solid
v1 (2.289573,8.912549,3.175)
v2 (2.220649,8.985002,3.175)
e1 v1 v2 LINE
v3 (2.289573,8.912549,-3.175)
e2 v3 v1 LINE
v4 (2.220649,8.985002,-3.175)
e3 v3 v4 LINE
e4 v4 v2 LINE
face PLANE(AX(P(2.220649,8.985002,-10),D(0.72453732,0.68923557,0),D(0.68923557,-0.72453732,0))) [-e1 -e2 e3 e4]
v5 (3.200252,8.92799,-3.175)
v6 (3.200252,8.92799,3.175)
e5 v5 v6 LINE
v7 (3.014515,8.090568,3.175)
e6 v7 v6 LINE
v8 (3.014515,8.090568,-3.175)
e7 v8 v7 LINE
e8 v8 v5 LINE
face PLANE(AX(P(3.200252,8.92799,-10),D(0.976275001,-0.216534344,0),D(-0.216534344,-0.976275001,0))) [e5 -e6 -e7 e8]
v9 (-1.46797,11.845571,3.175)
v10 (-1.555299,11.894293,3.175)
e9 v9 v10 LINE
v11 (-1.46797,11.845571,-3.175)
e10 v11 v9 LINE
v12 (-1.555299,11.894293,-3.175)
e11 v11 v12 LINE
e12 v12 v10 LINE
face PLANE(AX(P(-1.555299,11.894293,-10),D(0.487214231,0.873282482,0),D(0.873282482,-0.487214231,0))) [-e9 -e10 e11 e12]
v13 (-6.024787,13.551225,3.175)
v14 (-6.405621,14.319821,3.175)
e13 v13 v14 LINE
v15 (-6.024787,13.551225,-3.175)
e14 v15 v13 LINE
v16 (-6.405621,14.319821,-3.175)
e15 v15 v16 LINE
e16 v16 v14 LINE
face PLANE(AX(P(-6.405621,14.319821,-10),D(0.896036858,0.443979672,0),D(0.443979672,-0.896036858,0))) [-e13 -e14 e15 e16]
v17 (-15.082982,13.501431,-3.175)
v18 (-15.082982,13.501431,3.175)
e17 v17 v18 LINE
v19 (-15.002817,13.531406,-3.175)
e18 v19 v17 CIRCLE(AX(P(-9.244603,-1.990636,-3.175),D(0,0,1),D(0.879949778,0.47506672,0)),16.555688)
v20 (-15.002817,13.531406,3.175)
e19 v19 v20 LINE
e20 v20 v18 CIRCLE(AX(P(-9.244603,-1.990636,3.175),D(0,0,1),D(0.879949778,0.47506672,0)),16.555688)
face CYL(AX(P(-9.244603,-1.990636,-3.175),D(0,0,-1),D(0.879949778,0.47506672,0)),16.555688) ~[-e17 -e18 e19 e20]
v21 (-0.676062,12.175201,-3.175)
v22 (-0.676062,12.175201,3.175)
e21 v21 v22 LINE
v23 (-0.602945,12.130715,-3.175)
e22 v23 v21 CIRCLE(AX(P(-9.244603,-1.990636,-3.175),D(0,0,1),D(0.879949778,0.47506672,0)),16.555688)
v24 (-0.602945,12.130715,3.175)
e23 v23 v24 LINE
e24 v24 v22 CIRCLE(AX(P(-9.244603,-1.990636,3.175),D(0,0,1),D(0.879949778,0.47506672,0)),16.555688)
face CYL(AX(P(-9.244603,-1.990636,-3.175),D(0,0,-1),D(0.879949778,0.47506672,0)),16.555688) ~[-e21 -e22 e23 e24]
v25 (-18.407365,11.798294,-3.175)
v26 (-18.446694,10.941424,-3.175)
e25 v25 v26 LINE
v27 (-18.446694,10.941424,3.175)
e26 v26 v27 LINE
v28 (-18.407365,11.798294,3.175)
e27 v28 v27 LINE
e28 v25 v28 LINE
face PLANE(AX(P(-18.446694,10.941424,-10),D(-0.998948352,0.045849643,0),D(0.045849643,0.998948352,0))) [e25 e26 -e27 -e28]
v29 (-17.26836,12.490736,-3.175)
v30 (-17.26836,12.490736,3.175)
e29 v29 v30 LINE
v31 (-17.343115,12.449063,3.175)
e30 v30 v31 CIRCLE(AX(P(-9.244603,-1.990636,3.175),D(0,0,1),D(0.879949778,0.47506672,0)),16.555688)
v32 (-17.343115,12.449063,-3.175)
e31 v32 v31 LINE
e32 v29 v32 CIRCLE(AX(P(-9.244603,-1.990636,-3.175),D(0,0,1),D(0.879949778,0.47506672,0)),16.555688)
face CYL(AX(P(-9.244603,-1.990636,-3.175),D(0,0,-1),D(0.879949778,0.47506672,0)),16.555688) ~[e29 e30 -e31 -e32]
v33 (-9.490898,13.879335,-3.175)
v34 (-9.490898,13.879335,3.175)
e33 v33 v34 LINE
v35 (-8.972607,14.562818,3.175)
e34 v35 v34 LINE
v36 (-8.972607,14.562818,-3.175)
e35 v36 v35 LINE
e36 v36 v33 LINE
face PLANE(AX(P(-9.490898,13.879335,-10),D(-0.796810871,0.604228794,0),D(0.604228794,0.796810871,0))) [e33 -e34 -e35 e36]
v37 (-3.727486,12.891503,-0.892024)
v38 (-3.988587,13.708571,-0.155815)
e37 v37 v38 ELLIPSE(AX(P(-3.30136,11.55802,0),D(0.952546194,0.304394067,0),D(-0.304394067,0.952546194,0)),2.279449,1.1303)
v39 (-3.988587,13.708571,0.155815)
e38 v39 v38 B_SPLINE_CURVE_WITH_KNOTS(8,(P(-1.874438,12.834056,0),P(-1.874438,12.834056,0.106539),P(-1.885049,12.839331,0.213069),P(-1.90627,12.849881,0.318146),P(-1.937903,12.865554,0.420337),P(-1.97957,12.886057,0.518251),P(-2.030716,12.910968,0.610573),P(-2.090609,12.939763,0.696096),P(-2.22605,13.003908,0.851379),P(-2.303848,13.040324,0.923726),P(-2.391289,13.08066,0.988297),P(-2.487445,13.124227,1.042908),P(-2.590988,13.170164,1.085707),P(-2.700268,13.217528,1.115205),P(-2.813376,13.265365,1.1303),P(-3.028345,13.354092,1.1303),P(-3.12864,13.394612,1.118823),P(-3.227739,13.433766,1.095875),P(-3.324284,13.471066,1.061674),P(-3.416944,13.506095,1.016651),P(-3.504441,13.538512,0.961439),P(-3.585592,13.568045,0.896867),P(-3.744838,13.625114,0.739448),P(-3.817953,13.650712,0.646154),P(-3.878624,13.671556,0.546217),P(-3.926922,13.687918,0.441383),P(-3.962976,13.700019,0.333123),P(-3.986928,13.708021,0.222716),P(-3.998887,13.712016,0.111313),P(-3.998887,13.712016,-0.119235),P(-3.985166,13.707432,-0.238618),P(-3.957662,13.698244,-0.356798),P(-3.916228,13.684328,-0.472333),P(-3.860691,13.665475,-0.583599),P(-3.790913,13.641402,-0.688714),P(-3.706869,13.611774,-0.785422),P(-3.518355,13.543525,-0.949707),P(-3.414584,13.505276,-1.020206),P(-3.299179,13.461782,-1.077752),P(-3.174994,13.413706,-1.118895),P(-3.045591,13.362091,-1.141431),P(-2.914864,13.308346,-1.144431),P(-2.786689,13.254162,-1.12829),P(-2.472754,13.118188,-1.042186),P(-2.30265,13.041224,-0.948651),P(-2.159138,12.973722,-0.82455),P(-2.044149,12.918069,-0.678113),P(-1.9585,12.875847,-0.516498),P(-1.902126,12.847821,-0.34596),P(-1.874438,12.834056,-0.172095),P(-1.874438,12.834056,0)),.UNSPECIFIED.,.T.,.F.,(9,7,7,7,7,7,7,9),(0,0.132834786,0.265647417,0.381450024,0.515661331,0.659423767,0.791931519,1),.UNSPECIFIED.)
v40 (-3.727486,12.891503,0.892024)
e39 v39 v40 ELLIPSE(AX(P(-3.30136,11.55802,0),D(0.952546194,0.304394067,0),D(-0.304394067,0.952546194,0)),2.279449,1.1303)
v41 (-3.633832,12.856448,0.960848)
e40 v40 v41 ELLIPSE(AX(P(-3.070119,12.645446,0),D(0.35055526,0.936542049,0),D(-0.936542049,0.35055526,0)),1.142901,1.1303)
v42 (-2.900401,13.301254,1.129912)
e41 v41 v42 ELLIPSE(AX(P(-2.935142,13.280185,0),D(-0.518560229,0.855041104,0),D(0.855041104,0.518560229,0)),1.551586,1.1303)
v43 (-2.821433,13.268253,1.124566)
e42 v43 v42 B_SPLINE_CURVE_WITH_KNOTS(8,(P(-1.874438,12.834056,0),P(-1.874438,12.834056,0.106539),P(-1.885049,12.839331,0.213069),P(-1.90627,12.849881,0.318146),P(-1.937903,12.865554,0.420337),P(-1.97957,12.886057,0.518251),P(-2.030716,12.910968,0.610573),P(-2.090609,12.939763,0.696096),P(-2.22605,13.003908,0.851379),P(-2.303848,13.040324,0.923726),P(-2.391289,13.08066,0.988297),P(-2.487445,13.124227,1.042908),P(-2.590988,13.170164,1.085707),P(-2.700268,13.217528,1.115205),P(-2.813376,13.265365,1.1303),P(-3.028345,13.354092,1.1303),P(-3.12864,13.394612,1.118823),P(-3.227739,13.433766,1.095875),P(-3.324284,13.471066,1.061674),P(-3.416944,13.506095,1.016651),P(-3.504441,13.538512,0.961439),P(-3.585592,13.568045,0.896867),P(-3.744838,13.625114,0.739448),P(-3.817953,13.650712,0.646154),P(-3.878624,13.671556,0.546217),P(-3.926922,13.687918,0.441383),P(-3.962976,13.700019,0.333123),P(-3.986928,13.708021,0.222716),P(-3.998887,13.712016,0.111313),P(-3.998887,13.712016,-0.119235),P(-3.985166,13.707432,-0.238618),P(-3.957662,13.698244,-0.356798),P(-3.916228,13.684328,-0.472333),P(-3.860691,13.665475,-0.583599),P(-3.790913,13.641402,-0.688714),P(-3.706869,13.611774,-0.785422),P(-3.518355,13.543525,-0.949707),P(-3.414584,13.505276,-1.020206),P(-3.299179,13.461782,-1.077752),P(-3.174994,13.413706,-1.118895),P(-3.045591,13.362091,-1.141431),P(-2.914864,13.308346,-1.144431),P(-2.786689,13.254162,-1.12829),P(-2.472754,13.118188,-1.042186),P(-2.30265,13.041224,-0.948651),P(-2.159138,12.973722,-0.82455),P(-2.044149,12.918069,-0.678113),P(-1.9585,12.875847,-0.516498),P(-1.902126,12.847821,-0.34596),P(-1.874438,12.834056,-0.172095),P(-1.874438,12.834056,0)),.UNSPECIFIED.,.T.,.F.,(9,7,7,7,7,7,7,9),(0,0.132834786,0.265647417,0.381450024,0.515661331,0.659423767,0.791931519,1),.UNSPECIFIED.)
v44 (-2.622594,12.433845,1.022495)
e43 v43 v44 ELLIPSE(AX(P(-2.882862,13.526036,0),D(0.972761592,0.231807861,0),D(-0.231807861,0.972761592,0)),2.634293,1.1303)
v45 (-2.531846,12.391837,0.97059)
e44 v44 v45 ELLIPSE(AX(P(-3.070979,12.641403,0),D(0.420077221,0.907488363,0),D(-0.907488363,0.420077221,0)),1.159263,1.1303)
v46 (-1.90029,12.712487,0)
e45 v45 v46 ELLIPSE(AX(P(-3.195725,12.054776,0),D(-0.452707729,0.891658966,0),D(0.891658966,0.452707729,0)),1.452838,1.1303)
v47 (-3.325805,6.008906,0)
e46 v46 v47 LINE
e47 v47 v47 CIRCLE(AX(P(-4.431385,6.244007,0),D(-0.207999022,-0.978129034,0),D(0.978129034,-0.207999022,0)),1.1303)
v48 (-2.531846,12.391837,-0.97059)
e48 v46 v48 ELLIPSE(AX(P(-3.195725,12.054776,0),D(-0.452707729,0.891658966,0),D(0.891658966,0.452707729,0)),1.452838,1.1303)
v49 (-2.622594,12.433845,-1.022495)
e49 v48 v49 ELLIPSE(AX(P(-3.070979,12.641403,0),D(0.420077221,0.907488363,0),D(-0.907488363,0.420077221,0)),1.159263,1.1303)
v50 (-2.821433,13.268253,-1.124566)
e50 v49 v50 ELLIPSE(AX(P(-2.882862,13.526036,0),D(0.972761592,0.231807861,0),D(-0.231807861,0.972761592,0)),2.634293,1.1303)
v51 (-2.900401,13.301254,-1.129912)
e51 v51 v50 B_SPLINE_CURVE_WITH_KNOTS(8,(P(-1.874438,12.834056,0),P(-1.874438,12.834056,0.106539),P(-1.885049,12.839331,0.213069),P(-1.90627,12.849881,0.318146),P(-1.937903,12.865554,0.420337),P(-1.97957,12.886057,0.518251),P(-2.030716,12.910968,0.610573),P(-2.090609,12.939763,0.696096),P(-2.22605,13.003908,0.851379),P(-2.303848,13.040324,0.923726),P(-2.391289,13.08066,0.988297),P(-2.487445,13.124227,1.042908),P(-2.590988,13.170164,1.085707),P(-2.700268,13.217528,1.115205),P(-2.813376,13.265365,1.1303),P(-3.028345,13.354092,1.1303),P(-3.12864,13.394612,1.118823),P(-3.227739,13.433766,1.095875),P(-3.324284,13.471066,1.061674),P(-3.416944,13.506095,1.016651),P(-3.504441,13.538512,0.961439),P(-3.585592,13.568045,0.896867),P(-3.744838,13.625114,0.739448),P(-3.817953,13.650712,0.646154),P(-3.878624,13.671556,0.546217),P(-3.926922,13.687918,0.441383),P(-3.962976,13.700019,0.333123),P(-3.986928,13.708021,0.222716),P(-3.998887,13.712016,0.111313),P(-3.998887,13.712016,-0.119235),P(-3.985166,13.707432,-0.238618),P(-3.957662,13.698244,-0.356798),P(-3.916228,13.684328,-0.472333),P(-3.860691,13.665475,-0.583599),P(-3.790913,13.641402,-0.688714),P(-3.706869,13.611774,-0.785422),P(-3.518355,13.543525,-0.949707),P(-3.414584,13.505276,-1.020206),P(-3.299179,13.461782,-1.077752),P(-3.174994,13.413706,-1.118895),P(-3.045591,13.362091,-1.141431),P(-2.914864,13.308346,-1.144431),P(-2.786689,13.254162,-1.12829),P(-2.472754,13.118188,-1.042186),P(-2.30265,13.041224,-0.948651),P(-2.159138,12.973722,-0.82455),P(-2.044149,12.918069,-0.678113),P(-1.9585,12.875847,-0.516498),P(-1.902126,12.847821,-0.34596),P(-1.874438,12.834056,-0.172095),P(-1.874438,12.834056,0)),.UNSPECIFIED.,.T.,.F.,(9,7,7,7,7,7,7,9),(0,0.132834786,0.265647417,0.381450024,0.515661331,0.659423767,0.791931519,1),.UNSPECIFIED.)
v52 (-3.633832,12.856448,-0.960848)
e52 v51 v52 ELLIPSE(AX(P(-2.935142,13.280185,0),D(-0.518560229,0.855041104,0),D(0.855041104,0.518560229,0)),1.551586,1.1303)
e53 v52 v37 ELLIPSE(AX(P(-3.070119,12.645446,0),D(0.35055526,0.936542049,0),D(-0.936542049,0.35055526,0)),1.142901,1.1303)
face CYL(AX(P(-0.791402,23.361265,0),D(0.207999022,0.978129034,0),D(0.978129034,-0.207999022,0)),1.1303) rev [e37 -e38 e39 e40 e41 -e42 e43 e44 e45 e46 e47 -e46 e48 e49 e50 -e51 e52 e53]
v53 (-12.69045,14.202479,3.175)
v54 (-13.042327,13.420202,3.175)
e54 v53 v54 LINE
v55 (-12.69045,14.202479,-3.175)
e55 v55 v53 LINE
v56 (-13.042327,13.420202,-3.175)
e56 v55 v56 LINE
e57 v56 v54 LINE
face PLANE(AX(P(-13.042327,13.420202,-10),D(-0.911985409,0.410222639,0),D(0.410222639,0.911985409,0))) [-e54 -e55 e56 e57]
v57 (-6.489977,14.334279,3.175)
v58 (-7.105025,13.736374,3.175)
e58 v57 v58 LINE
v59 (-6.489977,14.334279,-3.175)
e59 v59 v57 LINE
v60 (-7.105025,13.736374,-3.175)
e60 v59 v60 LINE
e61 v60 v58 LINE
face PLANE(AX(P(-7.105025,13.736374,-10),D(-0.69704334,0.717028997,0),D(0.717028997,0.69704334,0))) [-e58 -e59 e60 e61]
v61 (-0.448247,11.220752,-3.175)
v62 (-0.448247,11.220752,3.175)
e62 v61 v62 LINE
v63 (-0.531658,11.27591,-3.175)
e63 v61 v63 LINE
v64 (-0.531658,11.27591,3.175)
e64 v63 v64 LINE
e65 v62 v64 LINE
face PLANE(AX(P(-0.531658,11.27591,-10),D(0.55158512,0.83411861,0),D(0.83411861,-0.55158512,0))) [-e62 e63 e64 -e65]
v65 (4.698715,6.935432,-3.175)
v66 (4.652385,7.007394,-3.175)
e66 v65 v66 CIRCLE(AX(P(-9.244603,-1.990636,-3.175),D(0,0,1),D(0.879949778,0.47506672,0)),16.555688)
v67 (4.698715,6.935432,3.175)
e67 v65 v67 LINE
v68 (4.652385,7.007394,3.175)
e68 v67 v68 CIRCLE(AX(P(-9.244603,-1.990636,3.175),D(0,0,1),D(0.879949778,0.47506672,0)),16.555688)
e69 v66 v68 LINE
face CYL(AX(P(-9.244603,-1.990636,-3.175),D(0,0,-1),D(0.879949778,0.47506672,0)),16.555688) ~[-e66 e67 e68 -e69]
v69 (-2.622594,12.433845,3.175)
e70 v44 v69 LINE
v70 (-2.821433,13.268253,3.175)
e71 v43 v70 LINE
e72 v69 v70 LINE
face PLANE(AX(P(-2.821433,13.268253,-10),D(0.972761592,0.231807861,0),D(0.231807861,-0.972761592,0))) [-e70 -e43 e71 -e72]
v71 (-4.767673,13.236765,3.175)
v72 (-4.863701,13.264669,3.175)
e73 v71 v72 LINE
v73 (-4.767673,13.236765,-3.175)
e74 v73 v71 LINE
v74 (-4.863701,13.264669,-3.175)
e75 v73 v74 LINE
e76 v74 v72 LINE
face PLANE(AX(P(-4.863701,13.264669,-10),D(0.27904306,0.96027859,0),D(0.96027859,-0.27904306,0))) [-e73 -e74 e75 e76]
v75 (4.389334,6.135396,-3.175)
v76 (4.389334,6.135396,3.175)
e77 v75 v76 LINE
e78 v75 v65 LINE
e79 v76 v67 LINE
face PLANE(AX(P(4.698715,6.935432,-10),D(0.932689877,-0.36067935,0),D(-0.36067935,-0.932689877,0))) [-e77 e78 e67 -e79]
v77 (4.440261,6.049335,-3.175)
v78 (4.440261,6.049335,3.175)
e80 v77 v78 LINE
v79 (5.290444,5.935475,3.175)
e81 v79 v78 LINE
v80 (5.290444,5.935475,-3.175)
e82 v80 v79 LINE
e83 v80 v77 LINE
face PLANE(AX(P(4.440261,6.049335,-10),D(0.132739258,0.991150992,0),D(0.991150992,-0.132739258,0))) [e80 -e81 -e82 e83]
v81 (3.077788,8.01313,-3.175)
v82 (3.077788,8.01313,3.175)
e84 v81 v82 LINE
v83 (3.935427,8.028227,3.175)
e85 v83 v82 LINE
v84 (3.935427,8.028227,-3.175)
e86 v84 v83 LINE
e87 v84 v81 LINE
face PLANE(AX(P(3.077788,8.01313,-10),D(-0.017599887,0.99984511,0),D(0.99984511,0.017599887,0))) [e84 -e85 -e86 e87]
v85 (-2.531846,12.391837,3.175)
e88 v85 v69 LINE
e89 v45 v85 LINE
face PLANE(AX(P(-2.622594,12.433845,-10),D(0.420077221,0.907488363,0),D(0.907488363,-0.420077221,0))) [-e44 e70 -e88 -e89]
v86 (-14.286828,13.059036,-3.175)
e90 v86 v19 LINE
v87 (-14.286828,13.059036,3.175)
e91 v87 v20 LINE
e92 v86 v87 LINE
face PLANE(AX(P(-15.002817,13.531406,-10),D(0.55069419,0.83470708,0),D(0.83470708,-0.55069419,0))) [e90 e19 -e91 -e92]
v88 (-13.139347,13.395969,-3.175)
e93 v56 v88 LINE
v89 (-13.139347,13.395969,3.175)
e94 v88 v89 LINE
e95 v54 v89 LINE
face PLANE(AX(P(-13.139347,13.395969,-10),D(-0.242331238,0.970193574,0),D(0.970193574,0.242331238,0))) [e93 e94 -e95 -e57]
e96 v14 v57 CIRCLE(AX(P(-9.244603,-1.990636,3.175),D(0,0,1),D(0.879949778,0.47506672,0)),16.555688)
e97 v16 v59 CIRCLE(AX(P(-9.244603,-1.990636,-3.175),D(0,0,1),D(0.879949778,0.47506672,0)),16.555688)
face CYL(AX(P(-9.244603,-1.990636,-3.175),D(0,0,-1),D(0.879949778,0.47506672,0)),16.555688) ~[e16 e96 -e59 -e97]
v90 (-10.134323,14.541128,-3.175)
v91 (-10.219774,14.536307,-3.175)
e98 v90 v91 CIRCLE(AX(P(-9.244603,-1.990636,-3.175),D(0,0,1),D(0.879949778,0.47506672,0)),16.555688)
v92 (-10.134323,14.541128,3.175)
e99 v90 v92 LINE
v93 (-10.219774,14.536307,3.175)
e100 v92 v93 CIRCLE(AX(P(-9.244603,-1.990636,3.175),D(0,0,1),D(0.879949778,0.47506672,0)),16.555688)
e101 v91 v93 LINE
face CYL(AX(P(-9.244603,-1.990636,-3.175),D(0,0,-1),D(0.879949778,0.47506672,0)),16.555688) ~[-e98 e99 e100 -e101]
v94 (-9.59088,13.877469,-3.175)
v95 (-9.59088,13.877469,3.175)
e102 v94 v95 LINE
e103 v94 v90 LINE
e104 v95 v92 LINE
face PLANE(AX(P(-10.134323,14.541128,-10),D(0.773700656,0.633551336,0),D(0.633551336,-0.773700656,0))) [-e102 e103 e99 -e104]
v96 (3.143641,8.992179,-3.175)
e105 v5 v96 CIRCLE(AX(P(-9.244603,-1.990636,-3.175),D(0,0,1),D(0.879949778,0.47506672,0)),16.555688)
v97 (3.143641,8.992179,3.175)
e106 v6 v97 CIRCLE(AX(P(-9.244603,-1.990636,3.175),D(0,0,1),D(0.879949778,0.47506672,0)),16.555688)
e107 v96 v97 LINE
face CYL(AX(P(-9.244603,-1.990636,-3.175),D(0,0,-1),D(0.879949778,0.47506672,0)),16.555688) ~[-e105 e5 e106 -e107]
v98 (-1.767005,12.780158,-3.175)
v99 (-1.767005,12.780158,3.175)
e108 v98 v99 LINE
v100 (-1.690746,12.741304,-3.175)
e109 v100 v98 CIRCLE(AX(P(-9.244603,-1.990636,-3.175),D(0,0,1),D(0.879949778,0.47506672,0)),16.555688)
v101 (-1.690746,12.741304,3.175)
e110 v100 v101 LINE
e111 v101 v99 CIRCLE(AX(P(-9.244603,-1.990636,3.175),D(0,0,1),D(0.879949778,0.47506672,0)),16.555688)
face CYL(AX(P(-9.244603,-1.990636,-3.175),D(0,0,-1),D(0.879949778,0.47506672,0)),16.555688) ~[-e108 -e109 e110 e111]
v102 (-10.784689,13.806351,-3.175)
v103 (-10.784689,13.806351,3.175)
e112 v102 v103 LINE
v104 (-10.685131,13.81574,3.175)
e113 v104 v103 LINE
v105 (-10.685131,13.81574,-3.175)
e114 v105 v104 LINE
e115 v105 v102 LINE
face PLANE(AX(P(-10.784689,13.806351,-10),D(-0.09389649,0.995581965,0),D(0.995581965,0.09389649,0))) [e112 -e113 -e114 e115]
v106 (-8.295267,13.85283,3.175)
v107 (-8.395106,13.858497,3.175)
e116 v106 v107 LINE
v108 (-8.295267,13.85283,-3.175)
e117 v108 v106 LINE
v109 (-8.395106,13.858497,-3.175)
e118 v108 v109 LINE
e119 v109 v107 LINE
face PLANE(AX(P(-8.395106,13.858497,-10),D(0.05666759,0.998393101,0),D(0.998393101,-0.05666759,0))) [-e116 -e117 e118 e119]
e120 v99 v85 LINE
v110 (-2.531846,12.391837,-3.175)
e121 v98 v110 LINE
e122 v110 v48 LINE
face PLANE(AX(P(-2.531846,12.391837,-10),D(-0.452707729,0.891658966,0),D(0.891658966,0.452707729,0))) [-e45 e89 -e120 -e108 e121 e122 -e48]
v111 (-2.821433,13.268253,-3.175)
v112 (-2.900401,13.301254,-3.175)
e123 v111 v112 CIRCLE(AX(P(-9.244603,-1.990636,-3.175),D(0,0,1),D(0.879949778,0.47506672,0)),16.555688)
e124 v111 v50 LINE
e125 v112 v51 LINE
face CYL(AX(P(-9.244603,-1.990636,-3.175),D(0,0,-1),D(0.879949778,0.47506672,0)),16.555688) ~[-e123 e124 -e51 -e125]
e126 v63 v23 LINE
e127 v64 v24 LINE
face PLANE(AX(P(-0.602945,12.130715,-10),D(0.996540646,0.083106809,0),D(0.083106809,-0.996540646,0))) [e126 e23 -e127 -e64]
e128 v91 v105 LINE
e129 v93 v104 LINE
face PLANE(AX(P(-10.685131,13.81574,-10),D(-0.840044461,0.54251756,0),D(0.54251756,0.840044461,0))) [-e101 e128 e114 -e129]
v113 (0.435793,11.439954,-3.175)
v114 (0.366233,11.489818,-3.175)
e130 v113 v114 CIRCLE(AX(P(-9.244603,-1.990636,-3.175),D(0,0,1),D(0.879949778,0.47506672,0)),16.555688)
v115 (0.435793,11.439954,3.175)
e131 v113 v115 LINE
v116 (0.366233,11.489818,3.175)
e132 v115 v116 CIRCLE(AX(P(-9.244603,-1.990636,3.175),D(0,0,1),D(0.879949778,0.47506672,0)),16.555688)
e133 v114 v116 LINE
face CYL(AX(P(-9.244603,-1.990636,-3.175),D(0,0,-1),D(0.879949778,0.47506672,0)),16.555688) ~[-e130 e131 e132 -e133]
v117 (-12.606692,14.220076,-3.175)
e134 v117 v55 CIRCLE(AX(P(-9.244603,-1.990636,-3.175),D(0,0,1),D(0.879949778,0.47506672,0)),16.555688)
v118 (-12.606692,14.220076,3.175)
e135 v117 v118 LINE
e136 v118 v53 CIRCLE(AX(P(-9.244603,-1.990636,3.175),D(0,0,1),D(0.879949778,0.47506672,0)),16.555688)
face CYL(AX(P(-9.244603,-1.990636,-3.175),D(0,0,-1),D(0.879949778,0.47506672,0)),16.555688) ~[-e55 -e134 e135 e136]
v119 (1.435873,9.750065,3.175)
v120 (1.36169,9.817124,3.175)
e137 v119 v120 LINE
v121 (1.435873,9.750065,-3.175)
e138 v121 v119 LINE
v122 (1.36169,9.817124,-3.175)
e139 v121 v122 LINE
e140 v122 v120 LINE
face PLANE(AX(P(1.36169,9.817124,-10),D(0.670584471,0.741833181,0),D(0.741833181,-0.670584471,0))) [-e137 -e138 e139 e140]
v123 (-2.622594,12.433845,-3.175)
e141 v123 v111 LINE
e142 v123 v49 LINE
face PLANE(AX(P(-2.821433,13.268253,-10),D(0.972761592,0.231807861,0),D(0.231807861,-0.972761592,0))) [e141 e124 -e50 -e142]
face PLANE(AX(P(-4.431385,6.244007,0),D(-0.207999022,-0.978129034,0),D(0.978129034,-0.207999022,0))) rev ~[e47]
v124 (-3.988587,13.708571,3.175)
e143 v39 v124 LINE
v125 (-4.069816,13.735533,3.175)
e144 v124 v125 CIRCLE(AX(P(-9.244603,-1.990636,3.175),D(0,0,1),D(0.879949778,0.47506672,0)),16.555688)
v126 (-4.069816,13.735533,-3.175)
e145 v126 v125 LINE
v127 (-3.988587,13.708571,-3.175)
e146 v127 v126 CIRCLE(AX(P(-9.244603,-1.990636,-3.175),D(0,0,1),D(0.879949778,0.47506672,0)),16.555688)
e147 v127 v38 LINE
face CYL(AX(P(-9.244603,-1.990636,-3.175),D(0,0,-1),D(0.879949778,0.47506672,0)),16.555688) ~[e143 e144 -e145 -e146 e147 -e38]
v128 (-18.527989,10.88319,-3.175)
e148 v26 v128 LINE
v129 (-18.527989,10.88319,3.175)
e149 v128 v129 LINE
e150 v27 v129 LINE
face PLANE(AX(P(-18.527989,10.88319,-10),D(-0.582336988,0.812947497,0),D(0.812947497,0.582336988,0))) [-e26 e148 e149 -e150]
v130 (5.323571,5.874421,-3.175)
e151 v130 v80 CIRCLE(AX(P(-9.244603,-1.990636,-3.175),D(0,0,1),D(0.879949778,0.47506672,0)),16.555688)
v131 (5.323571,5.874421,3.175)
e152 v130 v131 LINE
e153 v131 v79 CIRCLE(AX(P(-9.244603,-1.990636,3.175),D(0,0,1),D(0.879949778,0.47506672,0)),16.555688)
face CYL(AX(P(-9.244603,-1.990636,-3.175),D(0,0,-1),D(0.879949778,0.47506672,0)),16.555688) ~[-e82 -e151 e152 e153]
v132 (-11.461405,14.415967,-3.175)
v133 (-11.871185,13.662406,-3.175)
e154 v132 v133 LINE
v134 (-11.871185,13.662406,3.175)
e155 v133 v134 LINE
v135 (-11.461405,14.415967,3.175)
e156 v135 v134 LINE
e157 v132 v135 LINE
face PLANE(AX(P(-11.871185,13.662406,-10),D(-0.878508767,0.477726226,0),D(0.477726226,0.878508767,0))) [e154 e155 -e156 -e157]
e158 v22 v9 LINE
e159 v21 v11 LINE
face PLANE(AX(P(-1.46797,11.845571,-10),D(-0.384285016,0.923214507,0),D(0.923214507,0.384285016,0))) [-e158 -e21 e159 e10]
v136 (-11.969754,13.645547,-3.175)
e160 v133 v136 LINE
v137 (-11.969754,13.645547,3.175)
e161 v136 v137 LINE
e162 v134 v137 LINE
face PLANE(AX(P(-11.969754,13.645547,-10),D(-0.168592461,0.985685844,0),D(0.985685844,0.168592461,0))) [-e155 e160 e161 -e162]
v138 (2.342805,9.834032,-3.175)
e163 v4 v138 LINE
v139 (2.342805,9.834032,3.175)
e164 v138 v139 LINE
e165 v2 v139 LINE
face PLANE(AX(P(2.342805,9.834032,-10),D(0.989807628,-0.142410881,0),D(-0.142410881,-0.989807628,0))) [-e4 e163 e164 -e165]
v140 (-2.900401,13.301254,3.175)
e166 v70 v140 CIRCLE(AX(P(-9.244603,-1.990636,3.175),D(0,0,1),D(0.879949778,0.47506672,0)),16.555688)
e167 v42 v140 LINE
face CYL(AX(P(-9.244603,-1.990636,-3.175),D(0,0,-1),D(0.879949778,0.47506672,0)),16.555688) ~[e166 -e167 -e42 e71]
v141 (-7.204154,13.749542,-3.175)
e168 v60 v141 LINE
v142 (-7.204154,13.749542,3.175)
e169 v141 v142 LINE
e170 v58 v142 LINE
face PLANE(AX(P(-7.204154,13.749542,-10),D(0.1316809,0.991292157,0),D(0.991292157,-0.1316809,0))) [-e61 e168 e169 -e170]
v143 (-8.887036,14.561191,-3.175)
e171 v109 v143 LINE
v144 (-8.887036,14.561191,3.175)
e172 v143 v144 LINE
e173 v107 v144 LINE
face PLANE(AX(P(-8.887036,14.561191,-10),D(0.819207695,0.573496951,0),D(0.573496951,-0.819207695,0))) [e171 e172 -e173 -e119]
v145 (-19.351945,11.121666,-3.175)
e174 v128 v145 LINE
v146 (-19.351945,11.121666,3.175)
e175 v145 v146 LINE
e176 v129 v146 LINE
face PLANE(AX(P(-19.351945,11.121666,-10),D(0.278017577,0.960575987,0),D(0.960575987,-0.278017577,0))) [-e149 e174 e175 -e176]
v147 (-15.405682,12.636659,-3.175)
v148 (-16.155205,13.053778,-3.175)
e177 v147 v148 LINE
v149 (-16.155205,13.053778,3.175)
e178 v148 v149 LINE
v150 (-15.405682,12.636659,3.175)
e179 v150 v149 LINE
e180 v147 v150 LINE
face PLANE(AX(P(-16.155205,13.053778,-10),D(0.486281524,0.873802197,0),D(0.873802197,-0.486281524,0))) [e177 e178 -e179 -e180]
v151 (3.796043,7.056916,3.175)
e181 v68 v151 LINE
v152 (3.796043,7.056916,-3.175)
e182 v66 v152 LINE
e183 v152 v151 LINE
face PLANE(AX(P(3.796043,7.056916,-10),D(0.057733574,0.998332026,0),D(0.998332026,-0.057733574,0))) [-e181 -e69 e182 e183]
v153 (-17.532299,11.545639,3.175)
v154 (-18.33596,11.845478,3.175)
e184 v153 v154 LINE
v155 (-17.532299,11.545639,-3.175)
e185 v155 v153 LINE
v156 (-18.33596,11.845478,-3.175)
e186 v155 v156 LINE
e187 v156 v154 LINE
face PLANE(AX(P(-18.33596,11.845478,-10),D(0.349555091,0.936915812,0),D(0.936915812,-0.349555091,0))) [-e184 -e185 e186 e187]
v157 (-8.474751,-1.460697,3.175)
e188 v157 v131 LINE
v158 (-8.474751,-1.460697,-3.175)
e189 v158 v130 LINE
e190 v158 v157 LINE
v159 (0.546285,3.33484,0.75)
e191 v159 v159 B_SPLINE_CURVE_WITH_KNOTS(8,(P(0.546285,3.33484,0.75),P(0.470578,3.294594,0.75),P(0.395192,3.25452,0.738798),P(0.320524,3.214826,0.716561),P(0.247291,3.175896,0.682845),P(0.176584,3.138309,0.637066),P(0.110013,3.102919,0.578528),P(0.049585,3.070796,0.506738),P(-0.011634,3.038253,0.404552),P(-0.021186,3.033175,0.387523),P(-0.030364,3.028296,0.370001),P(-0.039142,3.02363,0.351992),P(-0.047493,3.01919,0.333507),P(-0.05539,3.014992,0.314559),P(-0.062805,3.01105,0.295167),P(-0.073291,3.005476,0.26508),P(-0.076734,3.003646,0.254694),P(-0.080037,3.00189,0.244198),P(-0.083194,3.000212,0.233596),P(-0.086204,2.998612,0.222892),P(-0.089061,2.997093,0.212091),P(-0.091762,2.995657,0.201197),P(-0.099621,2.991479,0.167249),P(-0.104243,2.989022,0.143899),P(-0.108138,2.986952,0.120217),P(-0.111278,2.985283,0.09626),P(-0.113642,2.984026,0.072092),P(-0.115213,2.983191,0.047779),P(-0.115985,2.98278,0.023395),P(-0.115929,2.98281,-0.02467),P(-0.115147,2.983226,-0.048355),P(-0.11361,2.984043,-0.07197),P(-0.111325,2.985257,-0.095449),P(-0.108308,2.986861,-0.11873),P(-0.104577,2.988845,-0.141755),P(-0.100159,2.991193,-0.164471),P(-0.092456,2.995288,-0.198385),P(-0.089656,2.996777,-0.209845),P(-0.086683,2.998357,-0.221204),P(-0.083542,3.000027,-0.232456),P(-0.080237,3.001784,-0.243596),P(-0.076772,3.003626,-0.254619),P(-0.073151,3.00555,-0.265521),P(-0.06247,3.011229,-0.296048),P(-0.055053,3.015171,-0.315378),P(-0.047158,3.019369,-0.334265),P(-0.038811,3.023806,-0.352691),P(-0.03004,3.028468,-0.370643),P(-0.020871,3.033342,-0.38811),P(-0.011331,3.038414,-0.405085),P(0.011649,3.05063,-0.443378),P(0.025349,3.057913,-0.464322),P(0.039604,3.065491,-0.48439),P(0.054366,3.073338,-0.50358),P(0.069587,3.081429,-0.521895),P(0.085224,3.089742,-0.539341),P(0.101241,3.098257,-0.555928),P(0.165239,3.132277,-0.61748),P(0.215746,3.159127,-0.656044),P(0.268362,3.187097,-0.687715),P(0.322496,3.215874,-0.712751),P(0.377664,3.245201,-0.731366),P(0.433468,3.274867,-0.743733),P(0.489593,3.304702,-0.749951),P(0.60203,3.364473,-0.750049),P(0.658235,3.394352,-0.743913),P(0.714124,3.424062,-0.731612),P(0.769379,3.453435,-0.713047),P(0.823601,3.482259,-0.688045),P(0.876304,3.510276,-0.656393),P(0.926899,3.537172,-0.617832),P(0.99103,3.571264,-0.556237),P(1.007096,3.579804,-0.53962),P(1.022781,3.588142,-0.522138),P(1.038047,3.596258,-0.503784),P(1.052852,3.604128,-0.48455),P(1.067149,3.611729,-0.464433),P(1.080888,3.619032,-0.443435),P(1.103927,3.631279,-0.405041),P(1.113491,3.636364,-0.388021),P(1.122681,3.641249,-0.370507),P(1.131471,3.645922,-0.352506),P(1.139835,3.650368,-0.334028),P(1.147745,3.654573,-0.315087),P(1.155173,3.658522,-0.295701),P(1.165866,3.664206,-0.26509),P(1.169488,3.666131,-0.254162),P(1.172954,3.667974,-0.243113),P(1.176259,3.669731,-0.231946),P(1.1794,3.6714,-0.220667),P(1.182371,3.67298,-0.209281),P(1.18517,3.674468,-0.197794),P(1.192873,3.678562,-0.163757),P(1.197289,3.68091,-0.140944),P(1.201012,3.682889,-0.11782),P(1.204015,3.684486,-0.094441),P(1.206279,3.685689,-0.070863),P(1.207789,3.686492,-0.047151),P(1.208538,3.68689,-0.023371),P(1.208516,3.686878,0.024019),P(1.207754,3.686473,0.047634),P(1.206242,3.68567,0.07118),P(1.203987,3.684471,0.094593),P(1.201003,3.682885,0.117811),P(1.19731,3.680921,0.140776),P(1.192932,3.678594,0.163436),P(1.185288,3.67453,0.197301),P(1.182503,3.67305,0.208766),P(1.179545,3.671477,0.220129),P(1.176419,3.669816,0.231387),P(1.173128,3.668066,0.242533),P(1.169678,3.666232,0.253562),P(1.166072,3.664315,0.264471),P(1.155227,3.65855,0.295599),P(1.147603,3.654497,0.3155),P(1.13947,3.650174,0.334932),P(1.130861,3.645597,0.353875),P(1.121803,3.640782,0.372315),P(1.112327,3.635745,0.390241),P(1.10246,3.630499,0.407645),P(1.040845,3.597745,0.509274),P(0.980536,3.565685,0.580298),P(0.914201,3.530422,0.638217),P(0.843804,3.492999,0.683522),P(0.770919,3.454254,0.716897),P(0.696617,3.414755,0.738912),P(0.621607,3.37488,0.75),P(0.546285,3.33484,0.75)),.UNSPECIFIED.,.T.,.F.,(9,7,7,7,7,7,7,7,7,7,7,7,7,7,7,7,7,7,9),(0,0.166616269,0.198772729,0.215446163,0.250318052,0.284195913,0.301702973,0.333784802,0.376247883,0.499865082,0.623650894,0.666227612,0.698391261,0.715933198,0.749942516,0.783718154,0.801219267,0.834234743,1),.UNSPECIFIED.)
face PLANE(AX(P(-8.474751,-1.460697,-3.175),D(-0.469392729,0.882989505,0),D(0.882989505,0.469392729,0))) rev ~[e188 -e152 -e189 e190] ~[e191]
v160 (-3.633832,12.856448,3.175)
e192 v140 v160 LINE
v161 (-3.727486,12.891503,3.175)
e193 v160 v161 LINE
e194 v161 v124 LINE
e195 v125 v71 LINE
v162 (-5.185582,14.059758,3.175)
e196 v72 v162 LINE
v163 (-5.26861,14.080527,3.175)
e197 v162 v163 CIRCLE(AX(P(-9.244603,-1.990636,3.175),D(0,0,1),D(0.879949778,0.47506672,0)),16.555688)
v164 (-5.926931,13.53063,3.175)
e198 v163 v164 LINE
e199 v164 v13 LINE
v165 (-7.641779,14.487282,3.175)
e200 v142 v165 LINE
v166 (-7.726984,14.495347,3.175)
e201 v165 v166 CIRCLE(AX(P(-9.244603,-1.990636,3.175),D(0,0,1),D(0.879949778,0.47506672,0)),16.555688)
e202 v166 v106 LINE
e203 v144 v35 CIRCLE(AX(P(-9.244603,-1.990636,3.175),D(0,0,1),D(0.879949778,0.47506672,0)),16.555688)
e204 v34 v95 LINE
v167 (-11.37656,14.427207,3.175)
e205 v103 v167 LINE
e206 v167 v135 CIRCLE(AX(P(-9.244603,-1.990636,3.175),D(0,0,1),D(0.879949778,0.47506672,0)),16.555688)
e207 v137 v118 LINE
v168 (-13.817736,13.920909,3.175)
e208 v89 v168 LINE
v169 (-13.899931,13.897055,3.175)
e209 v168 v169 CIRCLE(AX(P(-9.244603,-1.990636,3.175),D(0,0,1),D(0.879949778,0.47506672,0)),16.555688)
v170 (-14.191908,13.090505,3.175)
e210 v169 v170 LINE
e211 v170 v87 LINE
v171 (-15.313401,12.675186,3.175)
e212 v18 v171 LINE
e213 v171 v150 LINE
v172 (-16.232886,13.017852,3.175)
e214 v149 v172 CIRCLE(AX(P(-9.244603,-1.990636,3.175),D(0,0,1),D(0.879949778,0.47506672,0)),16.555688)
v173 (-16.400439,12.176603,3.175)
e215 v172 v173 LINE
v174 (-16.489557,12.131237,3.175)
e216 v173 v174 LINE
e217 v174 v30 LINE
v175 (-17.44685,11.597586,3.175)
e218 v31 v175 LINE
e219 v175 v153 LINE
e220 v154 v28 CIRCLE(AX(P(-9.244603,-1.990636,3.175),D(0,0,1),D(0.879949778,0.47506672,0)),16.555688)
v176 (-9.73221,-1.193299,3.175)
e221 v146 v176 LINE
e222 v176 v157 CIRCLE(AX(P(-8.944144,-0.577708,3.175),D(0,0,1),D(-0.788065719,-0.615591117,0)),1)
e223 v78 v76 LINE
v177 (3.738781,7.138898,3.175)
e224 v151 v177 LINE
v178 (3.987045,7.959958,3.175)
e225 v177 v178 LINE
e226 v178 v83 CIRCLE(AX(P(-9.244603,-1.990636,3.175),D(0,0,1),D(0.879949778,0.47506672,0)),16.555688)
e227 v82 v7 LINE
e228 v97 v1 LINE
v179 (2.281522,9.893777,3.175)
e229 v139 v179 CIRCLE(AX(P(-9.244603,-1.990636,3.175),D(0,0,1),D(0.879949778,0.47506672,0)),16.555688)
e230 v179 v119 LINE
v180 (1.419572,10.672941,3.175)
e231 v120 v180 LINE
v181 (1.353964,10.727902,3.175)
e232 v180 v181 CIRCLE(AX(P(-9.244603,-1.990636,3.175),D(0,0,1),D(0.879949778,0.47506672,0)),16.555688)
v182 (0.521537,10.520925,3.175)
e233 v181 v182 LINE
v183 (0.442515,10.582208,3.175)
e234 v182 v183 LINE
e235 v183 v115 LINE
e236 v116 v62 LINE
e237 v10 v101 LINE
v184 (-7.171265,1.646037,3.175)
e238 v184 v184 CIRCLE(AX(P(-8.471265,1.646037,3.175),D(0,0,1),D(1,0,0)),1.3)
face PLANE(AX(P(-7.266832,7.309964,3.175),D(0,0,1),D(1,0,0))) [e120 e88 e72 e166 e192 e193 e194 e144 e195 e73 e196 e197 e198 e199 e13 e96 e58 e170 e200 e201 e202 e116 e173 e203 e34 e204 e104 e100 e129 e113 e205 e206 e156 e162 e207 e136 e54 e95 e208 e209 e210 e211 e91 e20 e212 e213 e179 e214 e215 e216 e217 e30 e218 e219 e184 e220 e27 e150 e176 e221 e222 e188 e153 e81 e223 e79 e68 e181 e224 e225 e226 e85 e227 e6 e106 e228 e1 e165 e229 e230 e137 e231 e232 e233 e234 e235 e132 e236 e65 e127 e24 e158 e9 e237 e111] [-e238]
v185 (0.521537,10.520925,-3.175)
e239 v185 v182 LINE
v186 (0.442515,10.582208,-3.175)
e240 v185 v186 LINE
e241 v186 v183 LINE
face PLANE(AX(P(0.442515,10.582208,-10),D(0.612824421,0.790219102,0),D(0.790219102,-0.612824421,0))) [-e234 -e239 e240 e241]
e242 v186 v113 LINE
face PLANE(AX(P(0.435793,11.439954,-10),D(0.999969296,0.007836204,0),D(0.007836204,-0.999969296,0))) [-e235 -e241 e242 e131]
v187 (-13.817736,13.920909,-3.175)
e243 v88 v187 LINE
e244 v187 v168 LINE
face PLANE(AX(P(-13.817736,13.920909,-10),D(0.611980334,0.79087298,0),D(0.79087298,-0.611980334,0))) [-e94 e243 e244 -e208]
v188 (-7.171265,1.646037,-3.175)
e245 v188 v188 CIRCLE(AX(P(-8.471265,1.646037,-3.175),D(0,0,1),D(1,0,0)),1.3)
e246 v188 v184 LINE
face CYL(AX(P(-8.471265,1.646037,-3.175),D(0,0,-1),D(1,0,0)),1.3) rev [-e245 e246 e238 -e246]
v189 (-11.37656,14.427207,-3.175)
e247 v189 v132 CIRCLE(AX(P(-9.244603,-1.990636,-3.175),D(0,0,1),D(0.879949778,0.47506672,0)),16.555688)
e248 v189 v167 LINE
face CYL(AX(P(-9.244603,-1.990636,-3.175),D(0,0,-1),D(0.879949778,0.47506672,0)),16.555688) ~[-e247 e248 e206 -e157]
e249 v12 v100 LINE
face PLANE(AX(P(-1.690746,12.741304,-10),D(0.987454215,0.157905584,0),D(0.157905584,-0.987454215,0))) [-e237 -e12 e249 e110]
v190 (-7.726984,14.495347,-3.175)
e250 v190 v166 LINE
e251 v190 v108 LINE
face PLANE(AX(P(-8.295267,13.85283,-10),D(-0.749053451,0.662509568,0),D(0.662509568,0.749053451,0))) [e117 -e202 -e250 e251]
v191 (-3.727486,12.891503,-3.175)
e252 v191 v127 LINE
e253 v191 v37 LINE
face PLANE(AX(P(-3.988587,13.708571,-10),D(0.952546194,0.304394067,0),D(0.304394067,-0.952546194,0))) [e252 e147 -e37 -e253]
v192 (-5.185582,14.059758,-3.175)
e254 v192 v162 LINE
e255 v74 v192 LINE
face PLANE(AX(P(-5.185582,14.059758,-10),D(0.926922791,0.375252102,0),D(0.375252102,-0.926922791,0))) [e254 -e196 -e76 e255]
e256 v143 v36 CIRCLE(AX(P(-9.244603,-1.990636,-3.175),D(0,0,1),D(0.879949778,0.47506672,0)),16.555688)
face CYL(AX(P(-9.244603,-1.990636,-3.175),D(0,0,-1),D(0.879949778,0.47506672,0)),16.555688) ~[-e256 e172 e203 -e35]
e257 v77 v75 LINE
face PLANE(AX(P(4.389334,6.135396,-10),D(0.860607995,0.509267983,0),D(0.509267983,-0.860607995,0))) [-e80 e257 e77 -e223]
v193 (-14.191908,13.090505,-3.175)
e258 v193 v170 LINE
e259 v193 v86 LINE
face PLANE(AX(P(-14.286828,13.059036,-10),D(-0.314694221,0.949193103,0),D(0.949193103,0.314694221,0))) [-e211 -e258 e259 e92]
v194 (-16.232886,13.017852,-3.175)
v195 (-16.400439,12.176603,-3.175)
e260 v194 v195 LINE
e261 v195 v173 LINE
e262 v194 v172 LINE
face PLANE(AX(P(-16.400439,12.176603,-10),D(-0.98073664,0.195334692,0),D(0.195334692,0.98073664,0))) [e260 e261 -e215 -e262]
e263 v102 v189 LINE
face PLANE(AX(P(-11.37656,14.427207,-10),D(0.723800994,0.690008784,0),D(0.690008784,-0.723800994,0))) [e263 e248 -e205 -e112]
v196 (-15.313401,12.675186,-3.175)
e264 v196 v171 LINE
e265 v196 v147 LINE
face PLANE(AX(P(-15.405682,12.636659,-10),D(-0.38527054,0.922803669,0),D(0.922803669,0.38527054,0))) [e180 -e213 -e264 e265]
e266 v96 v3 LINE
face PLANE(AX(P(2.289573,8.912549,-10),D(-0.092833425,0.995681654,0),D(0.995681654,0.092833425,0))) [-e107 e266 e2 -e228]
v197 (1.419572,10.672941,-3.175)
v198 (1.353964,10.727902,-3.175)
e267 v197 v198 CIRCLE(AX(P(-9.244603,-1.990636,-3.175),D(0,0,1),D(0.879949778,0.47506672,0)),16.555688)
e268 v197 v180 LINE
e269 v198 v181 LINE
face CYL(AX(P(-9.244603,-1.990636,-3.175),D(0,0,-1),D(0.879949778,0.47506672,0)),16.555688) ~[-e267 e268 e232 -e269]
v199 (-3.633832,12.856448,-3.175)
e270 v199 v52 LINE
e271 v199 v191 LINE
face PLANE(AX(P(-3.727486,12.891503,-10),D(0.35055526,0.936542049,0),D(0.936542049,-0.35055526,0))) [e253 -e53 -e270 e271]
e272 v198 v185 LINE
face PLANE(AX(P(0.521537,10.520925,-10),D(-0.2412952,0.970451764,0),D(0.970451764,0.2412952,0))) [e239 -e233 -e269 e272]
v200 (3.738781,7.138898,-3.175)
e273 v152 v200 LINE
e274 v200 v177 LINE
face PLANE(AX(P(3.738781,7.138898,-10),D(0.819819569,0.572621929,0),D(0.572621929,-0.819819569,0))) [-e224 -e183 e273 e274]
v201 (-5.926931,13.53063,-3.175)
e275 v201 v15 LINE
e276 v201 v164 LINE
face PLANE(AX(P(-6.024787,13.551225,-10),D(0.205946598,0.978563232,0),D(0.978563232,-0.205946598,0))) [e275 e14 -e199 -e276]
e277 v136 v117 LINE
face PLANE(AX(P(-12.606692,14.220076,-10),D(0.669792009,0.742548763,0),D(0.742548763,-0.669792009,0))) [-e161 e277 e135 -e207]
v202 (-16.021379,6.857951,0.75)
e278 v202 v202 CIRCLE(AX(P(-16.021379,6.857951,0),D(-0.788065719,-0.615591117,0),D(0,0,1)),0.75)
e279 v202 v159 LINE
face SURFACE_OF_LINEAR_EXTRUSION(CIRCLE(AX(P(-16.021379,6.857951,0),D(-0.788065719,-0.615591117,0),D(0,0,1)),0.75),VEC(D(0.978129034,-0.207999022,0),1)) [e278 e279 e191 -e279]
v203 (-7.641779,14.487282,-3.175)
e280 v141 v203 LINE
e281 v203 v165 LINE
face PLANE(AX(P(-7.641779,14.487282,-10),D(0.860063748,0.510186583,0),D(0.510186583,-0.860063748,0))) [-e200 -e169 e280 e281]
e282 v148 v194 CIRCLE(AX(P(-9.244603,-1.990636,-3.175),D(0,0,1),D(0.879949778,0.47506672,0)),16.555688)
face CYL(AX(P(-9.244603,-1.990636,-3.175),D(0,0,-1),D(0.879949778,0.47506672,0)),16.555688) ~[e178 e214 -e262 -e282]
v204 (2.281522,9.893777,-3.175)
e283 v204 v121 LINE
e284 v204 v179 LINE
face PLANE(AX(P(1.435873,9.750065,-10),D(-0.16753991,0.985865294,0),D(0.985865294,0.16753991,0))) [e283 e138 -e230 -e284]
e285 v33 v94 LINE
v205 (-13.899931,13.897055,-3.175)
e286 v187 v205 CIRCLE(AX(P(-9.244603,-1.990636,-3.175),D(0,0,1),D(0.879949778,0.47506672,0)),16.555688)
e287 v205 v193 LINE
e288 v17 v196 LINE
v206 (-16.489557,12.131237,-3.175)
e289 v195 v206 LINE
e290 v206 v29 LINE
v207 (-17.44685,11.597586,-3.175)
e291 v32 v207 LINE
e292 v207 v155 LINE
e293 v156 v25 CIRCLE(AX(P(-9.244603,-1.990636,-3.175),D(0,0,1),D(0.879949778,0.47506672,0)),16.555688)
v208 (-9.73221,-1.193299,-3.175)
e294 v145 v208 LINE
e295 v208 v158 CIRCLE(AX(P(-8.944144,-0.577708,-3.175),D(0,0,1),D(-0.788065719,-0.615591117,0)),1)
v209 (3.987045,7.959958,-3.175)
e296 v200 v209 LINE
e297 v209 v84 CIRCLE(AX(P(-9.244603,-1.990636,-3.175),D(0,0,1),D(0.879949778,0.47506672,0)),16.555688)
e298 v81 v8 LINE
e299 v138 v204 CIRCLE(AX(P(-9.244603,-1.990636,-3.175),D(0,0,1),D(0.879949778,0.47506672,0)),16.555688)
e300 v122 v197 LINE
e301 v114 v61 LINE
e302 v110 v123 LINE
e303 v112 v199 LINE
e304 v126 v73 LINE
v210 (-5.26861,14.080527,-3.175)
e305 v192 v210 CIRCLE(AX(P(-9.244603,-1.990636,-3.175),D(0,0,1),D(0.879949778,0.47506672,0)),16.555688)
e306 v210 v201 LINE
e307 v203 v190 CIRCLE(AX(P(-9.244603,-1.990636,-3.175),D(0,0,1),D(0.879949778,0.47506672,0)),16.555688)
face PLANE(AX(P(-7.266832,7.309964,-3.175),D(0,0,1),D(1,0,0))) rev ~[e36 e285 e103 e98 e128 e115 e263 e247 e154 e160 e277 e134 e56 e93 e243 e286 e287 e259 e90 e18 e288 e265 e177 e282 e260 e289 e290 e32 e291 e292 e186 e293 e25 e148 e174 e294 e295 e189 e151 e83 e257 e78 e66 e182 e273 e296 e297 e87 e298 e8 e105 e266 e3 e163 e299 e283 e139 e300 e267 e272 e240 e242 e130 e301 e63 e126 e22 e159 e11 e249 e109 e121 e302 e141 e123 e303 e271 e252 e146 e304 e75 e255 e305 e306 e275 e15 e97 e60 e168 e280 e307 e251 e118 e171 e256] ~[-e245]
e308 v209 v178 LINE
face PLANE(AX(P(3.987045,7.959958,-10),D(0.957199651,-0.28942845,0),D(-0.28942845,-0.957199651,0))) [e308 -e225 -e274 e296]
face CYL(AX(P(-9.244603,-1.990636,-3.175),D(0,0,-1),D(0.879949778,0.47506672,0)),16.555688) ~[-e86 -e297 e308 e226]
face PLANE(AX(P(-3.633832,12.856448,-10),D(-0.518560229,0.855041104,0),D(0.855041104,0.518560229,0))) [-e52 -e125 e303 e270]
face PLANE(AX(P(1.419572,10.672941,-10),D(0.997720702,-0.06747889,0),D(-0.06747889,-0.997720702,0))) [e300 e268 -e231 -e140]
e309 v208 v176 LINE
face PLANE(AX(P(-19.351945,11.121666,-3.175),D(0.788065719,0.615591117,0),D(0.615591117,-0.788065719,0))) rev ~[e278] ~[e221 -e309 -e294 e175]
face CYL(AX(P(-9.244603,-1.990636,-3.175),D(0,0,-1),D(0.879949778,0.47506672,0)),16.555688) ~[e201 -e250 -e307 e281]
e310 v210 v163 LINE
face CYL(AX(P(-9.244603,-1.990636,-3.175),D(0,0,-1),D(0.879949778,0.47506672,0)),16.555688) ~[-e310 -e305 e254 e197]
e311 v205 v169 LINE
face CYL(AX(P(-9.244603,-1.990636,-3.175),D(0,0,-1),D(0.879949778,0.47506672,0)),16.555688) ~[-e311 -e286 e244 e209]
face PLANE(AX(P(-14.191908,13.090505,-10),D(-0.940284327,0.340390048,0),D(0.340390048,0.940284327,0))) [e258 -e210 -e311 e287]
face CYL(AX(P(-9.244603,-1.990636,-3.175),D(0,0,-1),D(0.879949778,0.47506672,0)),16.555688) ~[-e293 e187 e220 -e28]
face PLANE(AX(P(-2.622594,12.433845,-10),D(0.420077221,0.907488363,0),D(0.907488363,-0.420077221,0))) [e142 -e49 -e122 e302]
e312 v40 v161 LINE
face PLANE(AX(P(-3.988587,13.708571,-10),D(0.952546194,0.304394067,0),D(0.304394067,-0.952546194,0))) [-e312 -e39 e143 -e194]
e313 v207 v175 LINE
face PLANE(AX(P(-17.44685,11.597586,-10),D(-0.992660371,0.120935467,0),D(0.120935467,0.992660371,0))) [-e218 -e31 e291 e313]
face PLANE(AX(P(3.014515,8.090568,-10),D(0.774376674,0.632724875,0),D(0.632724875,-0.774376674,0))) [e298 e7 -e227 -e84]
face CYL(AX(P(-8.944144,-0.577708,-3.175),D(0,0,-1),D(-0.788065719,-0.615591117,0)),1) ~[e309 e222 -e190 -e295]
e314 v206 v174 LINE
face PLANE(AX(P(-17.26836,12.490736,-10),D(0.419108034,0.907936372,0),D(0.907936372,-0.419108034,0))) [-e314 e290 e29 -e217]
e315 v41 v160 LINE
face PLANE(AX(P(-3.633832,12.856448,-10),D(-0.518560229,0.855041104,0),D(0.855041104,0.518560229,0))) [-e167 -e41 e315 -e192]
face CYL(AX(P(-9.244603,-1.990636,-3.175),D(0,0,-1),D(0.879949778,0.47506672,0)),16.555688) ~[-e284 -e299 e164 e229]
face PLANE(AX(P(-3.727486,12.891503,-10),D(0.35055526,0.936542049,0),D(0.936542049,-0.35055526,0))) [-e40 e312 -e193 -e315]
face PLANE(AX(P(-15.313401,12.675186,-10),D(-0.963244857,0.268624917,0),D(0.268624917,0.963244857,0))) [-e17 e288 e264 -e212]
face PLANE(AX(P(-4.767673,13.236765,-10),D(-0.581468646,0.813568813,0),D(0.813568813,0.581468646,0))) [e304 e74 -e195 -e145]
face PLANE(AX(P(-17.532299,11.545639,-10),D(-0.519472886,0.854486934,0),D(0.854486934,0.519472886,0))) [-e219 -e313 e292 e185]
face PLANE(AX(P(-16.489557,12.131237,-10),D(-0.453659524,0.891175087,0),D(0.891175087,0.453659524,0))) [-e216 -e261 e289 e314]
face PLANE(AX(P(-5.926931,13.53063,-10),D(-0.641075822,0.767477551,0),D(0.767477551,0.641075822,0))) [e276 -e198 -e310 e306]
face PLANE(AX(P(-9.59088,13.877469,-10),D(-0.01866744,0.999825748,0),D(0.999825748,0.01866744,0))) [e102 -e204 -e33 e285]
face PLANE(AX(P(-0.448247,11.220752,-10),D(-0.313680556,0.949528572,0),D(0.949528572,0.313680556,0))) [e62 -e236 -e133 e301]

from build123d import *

# Parameters (mm, degrees)
BOSS_EXTRUDE1_DEPTH      = 3.175
BOSS_EXTRUDE1_DEPTH_BACK = 3.175
SKETCH1_R                = 1.3
SKETCH4_R                = 0.75
CUT_EXTRUDE2_DEPTH       = 7.5
CUT_EXTRUDE2_DEPTH_BACK  = 10
SKETCH3_R                = 1.1303
CUT_EXTRUDE3_DEPTH       = 10
CUT_EXTRUDE3_DEPTH_BACK  = 10


with BuildPart() as part:
    # Sketch1 → Boss-Extrude1 (new, two sides: drawn at the far end of the back side and taken through both)
    with BuildSketch(Plane.XY.offset(-BOSS_EXTRUDE1_DEPTH_BACK)):
        with BuildLine():
            Line((-19.351944596, 11.121666082), (-9.732209918, -1.193299023))
            ThreePointArc((-9.732209918, -1.193299023), (-9.152143222, -1.55583694), (-8.474751471, -1.460697412))
            Line((-8.474751471, -1.460697412), (5.323571039, 5.874420633))
            ThreePointArc((5.323571039, 5.874420633), (-5.801036197, 14.202963476), (-19.351944596, 11.121666082))
        make_face()
        with Locations((-8.471265065, 1.646037216)):
            Circle(SKETCH1_R, mode=Mode.SUBTRACT)
    extrude(amount=BOSS_EXTRUDE1_DEPTH + BOSS_EXTRUDE1_DEPTH_BACK)

    # Cut-Sweep1: sweep along a path in Sketch2
    with BuildLine(Plane.XY) as cut_sweep1_path:
        Line((-16.021378593, 6.857951387), (3.426511905, 2.722359798))
    # Sketch4 → Cut-Sweep1 (sweep, cut)
    with BuildSketch(Plane(origin=(-6.623066075, -5.173554115, 0), x_dir=(0, 0, 1), z_dir=(-0.7880657186592105, -0.6155911167927476, 0))):
        with Locations((0, 15.267134729)):
            Circle(SKETCH4_R)
    sweep(path=cut_sweep1_path.line, mode=Mode.SUBTRACT)

    # Sketch3 → Cut-Extrude2 (cut, two sides: drawn at the far end of the back side and taken through both)
    with BuildSketch(Plane(origin=(2.63861758, 12.40827211, 0), x_dir=(0.9781290338253494, -0.2079990220839719, 0), z_dir=(-0.2079990220839719, -0.9781290338253494, 0)).offset(-CUT_EXTRUDE2_DEPTH_BACK)):
        with Locations((-5.633213298, 0)):
            Circle(SKETCH3_R)
    extrude(amount=CUT_EXTRUDE2_DEPTH + CUT_EXTRUDE2_DEPTH_BACK, mode=Mode.SUBTRACT)

    # Sketch5 → Cut-Extrude3 (cut, two sides: drawn at the far end of the back side and taken through both)
    with BuildSketch(Plane.XY.offset(-CUT_EXTRUDE3_DEPTH_BACK)):
        with BuildLine():
            Line((-18.335959881, 11.845477975), (-17.532299102, 11.545639171))
            Line((-17.532299102, 11.545639171), (-17.446850408, 11.59758646))
            Line((-17.446850408, 11.59758646), (-17.343115269, 12.449063399))
            ThreePointArc((-17.343115269, 12.449063399), (-17.844834345, 12.155983405), (-18.335959881, 11.845477975))
        make_face()
        with BuildLine():
            Line((-19.351944596, 11.121666082), (-18.527988766, 10.883190202))
            Line((-18.527988766, 10.883190202), (-18.446694016, 10.941423901))
            Line((-18.446694016, 10.941423901), (-18.407365445, 11.798294498))
            ThreePointArc((-18.407365445, 11.798294498), (-18.88559278, 11.468269454), (-19.351944596, 11.121666082))
        make_face()
        with BuildLine():
            Line((-17.268359717, 12.490736443), (-16.489556709, 12.131237025))
            Line((-16.489556709, 12.131237025), (-16.400439201, 12.176602977))
            Line((-16.400439201, 12.176602977), (-16.23288644, 13.017852066))
            ThreePointArc((-16.23288644, 13.017852066), (-16.755248788, 12.763381061), (-17.268359717, 12.490736443))
        make_face()
        with BuildLine():
            Line((-16.15520532, 13.053778081), (-15.405681675, 12.636659079))
            Line((-15.405681675, 12.636659079), (-15.313401308, 12.675186133))
            Line((-15.313401308, 12.675186133), (-15.082982195, 13.501431247))
            ThreePointArc((-15.082982195, 13.501431247), (-15.623022142, 13.287013969), (-16.15520532, 13.053778081))
        make_face()
        with BuildLine():
            Line((-15.002816533, 13.531406266), (-14.286827611, 13.059035839))
            Line((-14.286827611, 13.059035839), (-14.191908301, 13.090505261))
            Line((-14.191908301, 13.090505261), (-13.89993102, 13.89705546))
            ThreePointArc((-13.89993102, 13.89705546), (-14.454582535, 13.723909246), (-15.002816533, 13.531406266))
        make_face()
        with BuildLine():
            Line((-13.817735952, 13.920909302), (-13.139346723, 13.395969296))
            Line((-13.139346723, 13.395969296), (-13.042327365, 13.42020242))
            Line((-13.042327365, 13.42020242), (-12.690449596, 14.202478581))
            ThreePointArc((-12.690449596, 14.202478581), (-13.256563688, 14.071586455), (-13.817735952, 13.920909302))
        make_face()
        with BuildLine():
            Line((-12.606691776, 14.220075817), (-11.96975374, 13.645546536))
            Line((-11.96975374, 13.645546536), (-11.871185156, 13.662405782))
            Line((-11.871185156, 13.662405782), (-11.461404655, 14.415966594))
            ThreePointArc((-11.461404655, 14.415966594), (-12.035767257, 14.328071685), (-12.606691776, 14.220075817))
        make_face()
        with BuildLine():
            Line((-11.376559612, 14.427207318), (-10.784688934, 13.806350606))
            Line((-10.784688934, 13.806350606), (-10.685130738, 13.815740255))
            Line((-10.685130738, 13.815740255), (-10.219774001, 14.536307437))
            ThreePointArc((-10.219774001, 14.536307437), (-10.799124216, 14.491908762), (-11.376559612, 14.427207318))
        make_face()
        with BuildLine():
            Line((-10.134323437, 14.541127831), (-9.590880415, 13.877468553))
            Line((-9.590880415, 13.877468553), (-9.49089784, 13.879335297))
            Line((-9.49089784, 13.879335297), (-8.972606893, 14.562817887))
            ThreePointArc((-8.972606893, 14.562817887), (-9.553655506, 14.562167515), (-10.134323437, 14.541127831))
        make_face()
        with BuildLine():
            Line((-8.887035946, 14.561190583), (-8.395105934, 13.85849661))
            Line((-8.395105934, 13.85849661), (-8.295266624, 13.852829851))
            Line((-8.295266624, 13.852829851), (-7.726984022, 14.49534743))
            ThreePointArc((-7.726984022, 14.49534743), (-8.306432177, 14.538449054), (-8.887035946, 14.561190583))
        make_face()
        with BuildLine():
            Line((-7.641778514, 14.487281668), (-7.204154406, 13.749542489))
            Line((-7.204154406, 13.749542489), (-7.10502519, 13.736374399))
            Line((-7.10502519, 13.736374399), (-6.489977312, 14.334279127))
            ThreePointArc((-6.489977312, 14.334279127), (-7.064535238, 14.420888041), (-7.641778514, 14.487281668))
        make_face()
        with BuildLine():
            Line((-6.405620991, 14.319820698), (-6.024787362, 13.551224769))
            Line((-6.024787362, 13.551224769), (-5.926931038, 13.530630109))
            Line((-5.926931038, 13.530630109), (-5.268609769, 14.080527429))
            ThreePointArc((-5.268609769, 14.080527429), (-5.835015459, 14.210151917), (-6.405620991, 14.319820698))
        make_face()
        with BuildLine():
            Line((-5.185581561, 14.05975842), (-4.863700563, 13.264669382))
            Line((-4.863700563, 13.264669382), (-4.767672704, 13.236765076))
            Line((-4.767672704, 13.236765076), (-4.06981561, 13.73553299))
            ThreePointArc((-4.06981561, 13.73553299), (-4.624853342, 13.907437121), (-5.185581561, 14.05975842))
        make_face()
        with BuildLine():
            Line((-3.9885869, 13.708571317), (-3.727485988, 12.891503223))
            Line((-3.727485988, 12.891503223), (-3.633831783, 12.856447697))
            Line((-3.633831783, 12.856447697), (-2.900400891, 13.30125449))
            ThreePointArc((-2.900400891, 13.30125449), (-3.440919483, 13.514462291), (-3.9885869, 13.708571317))
        make_face()
        with BuildLine():
            Line((-2.82143285, 13.268253224), (-2.622594402, 12.433844914))
            Line((-2.622594402, 12.433844914), (-2.531845566, 12.391837192))
            Line((-2.531845566, 12.391837192), (-1.767004872, 12.78015751))
            ThreePointArc((-1.767004872, 12.78015751), (-2.289935572, 13.033458511), (-2.82143285, 13.268253224))
        make_face()
        with BuildLine():
            Line((-1.690745835, 12.741304013), (-1.55529874, 11.894292773))
            Line((-1.55529874, 11.894292773), (-1.467970492, 11.84557135))
            Line((-1.467970492, 11.84557135), (-0.676062318, 12.175200535))
            ThreePointArc((-0.676062318, 12.175200535), (-1.178436229, 12.46715664), (-1.690745835, 12.741304013))
        make_face()
        with BuildLine():
            Line((-0.602945237, 12.130715396), (-0.531658487, 11.275910064))
            Line((-0.531658487, 11.275910064), (-0.448246626, 11.220751552))
            Line((-0.448246626, 11.220751552), (0.366233034, 11.489818161))
            ThreePointArc((0.366233034, 11.489818161), (-0.112731901, 11.818771812), (-0.602945237, 12.130715396))
        make_face()
        with BuildLine():
            Line((0.43579304, 11.439953939), (0.442514722, 10.582207604))
            Line((0.442514722, 10.582207604), (0.521536632, 10.520925162))
            Line((0.521536632, 10.520925162), (1.353963634, 10.72790159))
            ThreePointArc((1.353963634, 10.72790159), (0.90112696, 11.091985181), (0.43579304, 11.439953939))
        make_face()
        with BuildLine():
            Line((1.419571645, 10.672941387), (1.361690097, 9.817123835))
            Line((1.361690097, 9.817123835), (1.435873415, 9.750065388))
            Line((1.435873415, 9.750065388), (2.281521722, 9.893776544))
            ThreePointArc((2.281521722, 9.893776544), (1.857384253, 10.290923018), (1.419571645, 10.672941387))
        make_face()
        with BuildLine():
            Line((2.342805254, 9.834032391), (2.220649092, 8.985002457))
            Line((2.220649092, 8.985002457), (2.289572649, 8.912548725))
            Line((2.289572649, 8.912548725), (3.143641161, 8.9921787))
            ThreePointArc((3.143641161, 8.9921787), (2.750610903, 9.42013329), (2.342805254, 9.834032391))
        make_face()
        with BuildLine():
            Line((3.200252281, 8.92798979), (3.014515038, 8.090567774))
            Line((3.014515038, 8.090567774), (3.077787526, 8.013130106))
            Line((3.077787526, 8.013130106), (3.935427337, 8.028226808))
            ThreePointArc((3.935427337, 8.028226808), (3.575735688, 8.484559836), (3.200252281, 8.92798979))
        make_face()
        with BuildLine():
            Line((3.98704464, 7.959957568), (3.738780825, 7.138897866))
            Line((3.738780825, 7.138897866), (3.796043018, 7.056915909))
            Line((3.796043018, 7.056915909), (4.652384947, 7.007393627))
            ThreePointArc((4.652384947, 7.007393627), (4.328074028, 7.489514298), (3.98704464, 7.959957568))
        make_face()
        with BuildLine():
            Line((4.69871538, 6.93543165), (4.38933449, 6.135395762))
            Line((4.38933449, 6.135395762), (4.440261288, 6.049334963))
            Line((4.440261288, 6.049334963), (5.290443523, 5.935474855))
            ThreePointArc((5.290443523, 5.935474855), (5.003354583, 6.440645969), (4.69871538, 6.93543165))
        make_face()
    extrude(amount=CUT_EXTRUDE3_DEPTH + CUT_EXTRUDE3_DEPTH_BACK, mode=Mode.SUBTRACT)


solid = part.part
